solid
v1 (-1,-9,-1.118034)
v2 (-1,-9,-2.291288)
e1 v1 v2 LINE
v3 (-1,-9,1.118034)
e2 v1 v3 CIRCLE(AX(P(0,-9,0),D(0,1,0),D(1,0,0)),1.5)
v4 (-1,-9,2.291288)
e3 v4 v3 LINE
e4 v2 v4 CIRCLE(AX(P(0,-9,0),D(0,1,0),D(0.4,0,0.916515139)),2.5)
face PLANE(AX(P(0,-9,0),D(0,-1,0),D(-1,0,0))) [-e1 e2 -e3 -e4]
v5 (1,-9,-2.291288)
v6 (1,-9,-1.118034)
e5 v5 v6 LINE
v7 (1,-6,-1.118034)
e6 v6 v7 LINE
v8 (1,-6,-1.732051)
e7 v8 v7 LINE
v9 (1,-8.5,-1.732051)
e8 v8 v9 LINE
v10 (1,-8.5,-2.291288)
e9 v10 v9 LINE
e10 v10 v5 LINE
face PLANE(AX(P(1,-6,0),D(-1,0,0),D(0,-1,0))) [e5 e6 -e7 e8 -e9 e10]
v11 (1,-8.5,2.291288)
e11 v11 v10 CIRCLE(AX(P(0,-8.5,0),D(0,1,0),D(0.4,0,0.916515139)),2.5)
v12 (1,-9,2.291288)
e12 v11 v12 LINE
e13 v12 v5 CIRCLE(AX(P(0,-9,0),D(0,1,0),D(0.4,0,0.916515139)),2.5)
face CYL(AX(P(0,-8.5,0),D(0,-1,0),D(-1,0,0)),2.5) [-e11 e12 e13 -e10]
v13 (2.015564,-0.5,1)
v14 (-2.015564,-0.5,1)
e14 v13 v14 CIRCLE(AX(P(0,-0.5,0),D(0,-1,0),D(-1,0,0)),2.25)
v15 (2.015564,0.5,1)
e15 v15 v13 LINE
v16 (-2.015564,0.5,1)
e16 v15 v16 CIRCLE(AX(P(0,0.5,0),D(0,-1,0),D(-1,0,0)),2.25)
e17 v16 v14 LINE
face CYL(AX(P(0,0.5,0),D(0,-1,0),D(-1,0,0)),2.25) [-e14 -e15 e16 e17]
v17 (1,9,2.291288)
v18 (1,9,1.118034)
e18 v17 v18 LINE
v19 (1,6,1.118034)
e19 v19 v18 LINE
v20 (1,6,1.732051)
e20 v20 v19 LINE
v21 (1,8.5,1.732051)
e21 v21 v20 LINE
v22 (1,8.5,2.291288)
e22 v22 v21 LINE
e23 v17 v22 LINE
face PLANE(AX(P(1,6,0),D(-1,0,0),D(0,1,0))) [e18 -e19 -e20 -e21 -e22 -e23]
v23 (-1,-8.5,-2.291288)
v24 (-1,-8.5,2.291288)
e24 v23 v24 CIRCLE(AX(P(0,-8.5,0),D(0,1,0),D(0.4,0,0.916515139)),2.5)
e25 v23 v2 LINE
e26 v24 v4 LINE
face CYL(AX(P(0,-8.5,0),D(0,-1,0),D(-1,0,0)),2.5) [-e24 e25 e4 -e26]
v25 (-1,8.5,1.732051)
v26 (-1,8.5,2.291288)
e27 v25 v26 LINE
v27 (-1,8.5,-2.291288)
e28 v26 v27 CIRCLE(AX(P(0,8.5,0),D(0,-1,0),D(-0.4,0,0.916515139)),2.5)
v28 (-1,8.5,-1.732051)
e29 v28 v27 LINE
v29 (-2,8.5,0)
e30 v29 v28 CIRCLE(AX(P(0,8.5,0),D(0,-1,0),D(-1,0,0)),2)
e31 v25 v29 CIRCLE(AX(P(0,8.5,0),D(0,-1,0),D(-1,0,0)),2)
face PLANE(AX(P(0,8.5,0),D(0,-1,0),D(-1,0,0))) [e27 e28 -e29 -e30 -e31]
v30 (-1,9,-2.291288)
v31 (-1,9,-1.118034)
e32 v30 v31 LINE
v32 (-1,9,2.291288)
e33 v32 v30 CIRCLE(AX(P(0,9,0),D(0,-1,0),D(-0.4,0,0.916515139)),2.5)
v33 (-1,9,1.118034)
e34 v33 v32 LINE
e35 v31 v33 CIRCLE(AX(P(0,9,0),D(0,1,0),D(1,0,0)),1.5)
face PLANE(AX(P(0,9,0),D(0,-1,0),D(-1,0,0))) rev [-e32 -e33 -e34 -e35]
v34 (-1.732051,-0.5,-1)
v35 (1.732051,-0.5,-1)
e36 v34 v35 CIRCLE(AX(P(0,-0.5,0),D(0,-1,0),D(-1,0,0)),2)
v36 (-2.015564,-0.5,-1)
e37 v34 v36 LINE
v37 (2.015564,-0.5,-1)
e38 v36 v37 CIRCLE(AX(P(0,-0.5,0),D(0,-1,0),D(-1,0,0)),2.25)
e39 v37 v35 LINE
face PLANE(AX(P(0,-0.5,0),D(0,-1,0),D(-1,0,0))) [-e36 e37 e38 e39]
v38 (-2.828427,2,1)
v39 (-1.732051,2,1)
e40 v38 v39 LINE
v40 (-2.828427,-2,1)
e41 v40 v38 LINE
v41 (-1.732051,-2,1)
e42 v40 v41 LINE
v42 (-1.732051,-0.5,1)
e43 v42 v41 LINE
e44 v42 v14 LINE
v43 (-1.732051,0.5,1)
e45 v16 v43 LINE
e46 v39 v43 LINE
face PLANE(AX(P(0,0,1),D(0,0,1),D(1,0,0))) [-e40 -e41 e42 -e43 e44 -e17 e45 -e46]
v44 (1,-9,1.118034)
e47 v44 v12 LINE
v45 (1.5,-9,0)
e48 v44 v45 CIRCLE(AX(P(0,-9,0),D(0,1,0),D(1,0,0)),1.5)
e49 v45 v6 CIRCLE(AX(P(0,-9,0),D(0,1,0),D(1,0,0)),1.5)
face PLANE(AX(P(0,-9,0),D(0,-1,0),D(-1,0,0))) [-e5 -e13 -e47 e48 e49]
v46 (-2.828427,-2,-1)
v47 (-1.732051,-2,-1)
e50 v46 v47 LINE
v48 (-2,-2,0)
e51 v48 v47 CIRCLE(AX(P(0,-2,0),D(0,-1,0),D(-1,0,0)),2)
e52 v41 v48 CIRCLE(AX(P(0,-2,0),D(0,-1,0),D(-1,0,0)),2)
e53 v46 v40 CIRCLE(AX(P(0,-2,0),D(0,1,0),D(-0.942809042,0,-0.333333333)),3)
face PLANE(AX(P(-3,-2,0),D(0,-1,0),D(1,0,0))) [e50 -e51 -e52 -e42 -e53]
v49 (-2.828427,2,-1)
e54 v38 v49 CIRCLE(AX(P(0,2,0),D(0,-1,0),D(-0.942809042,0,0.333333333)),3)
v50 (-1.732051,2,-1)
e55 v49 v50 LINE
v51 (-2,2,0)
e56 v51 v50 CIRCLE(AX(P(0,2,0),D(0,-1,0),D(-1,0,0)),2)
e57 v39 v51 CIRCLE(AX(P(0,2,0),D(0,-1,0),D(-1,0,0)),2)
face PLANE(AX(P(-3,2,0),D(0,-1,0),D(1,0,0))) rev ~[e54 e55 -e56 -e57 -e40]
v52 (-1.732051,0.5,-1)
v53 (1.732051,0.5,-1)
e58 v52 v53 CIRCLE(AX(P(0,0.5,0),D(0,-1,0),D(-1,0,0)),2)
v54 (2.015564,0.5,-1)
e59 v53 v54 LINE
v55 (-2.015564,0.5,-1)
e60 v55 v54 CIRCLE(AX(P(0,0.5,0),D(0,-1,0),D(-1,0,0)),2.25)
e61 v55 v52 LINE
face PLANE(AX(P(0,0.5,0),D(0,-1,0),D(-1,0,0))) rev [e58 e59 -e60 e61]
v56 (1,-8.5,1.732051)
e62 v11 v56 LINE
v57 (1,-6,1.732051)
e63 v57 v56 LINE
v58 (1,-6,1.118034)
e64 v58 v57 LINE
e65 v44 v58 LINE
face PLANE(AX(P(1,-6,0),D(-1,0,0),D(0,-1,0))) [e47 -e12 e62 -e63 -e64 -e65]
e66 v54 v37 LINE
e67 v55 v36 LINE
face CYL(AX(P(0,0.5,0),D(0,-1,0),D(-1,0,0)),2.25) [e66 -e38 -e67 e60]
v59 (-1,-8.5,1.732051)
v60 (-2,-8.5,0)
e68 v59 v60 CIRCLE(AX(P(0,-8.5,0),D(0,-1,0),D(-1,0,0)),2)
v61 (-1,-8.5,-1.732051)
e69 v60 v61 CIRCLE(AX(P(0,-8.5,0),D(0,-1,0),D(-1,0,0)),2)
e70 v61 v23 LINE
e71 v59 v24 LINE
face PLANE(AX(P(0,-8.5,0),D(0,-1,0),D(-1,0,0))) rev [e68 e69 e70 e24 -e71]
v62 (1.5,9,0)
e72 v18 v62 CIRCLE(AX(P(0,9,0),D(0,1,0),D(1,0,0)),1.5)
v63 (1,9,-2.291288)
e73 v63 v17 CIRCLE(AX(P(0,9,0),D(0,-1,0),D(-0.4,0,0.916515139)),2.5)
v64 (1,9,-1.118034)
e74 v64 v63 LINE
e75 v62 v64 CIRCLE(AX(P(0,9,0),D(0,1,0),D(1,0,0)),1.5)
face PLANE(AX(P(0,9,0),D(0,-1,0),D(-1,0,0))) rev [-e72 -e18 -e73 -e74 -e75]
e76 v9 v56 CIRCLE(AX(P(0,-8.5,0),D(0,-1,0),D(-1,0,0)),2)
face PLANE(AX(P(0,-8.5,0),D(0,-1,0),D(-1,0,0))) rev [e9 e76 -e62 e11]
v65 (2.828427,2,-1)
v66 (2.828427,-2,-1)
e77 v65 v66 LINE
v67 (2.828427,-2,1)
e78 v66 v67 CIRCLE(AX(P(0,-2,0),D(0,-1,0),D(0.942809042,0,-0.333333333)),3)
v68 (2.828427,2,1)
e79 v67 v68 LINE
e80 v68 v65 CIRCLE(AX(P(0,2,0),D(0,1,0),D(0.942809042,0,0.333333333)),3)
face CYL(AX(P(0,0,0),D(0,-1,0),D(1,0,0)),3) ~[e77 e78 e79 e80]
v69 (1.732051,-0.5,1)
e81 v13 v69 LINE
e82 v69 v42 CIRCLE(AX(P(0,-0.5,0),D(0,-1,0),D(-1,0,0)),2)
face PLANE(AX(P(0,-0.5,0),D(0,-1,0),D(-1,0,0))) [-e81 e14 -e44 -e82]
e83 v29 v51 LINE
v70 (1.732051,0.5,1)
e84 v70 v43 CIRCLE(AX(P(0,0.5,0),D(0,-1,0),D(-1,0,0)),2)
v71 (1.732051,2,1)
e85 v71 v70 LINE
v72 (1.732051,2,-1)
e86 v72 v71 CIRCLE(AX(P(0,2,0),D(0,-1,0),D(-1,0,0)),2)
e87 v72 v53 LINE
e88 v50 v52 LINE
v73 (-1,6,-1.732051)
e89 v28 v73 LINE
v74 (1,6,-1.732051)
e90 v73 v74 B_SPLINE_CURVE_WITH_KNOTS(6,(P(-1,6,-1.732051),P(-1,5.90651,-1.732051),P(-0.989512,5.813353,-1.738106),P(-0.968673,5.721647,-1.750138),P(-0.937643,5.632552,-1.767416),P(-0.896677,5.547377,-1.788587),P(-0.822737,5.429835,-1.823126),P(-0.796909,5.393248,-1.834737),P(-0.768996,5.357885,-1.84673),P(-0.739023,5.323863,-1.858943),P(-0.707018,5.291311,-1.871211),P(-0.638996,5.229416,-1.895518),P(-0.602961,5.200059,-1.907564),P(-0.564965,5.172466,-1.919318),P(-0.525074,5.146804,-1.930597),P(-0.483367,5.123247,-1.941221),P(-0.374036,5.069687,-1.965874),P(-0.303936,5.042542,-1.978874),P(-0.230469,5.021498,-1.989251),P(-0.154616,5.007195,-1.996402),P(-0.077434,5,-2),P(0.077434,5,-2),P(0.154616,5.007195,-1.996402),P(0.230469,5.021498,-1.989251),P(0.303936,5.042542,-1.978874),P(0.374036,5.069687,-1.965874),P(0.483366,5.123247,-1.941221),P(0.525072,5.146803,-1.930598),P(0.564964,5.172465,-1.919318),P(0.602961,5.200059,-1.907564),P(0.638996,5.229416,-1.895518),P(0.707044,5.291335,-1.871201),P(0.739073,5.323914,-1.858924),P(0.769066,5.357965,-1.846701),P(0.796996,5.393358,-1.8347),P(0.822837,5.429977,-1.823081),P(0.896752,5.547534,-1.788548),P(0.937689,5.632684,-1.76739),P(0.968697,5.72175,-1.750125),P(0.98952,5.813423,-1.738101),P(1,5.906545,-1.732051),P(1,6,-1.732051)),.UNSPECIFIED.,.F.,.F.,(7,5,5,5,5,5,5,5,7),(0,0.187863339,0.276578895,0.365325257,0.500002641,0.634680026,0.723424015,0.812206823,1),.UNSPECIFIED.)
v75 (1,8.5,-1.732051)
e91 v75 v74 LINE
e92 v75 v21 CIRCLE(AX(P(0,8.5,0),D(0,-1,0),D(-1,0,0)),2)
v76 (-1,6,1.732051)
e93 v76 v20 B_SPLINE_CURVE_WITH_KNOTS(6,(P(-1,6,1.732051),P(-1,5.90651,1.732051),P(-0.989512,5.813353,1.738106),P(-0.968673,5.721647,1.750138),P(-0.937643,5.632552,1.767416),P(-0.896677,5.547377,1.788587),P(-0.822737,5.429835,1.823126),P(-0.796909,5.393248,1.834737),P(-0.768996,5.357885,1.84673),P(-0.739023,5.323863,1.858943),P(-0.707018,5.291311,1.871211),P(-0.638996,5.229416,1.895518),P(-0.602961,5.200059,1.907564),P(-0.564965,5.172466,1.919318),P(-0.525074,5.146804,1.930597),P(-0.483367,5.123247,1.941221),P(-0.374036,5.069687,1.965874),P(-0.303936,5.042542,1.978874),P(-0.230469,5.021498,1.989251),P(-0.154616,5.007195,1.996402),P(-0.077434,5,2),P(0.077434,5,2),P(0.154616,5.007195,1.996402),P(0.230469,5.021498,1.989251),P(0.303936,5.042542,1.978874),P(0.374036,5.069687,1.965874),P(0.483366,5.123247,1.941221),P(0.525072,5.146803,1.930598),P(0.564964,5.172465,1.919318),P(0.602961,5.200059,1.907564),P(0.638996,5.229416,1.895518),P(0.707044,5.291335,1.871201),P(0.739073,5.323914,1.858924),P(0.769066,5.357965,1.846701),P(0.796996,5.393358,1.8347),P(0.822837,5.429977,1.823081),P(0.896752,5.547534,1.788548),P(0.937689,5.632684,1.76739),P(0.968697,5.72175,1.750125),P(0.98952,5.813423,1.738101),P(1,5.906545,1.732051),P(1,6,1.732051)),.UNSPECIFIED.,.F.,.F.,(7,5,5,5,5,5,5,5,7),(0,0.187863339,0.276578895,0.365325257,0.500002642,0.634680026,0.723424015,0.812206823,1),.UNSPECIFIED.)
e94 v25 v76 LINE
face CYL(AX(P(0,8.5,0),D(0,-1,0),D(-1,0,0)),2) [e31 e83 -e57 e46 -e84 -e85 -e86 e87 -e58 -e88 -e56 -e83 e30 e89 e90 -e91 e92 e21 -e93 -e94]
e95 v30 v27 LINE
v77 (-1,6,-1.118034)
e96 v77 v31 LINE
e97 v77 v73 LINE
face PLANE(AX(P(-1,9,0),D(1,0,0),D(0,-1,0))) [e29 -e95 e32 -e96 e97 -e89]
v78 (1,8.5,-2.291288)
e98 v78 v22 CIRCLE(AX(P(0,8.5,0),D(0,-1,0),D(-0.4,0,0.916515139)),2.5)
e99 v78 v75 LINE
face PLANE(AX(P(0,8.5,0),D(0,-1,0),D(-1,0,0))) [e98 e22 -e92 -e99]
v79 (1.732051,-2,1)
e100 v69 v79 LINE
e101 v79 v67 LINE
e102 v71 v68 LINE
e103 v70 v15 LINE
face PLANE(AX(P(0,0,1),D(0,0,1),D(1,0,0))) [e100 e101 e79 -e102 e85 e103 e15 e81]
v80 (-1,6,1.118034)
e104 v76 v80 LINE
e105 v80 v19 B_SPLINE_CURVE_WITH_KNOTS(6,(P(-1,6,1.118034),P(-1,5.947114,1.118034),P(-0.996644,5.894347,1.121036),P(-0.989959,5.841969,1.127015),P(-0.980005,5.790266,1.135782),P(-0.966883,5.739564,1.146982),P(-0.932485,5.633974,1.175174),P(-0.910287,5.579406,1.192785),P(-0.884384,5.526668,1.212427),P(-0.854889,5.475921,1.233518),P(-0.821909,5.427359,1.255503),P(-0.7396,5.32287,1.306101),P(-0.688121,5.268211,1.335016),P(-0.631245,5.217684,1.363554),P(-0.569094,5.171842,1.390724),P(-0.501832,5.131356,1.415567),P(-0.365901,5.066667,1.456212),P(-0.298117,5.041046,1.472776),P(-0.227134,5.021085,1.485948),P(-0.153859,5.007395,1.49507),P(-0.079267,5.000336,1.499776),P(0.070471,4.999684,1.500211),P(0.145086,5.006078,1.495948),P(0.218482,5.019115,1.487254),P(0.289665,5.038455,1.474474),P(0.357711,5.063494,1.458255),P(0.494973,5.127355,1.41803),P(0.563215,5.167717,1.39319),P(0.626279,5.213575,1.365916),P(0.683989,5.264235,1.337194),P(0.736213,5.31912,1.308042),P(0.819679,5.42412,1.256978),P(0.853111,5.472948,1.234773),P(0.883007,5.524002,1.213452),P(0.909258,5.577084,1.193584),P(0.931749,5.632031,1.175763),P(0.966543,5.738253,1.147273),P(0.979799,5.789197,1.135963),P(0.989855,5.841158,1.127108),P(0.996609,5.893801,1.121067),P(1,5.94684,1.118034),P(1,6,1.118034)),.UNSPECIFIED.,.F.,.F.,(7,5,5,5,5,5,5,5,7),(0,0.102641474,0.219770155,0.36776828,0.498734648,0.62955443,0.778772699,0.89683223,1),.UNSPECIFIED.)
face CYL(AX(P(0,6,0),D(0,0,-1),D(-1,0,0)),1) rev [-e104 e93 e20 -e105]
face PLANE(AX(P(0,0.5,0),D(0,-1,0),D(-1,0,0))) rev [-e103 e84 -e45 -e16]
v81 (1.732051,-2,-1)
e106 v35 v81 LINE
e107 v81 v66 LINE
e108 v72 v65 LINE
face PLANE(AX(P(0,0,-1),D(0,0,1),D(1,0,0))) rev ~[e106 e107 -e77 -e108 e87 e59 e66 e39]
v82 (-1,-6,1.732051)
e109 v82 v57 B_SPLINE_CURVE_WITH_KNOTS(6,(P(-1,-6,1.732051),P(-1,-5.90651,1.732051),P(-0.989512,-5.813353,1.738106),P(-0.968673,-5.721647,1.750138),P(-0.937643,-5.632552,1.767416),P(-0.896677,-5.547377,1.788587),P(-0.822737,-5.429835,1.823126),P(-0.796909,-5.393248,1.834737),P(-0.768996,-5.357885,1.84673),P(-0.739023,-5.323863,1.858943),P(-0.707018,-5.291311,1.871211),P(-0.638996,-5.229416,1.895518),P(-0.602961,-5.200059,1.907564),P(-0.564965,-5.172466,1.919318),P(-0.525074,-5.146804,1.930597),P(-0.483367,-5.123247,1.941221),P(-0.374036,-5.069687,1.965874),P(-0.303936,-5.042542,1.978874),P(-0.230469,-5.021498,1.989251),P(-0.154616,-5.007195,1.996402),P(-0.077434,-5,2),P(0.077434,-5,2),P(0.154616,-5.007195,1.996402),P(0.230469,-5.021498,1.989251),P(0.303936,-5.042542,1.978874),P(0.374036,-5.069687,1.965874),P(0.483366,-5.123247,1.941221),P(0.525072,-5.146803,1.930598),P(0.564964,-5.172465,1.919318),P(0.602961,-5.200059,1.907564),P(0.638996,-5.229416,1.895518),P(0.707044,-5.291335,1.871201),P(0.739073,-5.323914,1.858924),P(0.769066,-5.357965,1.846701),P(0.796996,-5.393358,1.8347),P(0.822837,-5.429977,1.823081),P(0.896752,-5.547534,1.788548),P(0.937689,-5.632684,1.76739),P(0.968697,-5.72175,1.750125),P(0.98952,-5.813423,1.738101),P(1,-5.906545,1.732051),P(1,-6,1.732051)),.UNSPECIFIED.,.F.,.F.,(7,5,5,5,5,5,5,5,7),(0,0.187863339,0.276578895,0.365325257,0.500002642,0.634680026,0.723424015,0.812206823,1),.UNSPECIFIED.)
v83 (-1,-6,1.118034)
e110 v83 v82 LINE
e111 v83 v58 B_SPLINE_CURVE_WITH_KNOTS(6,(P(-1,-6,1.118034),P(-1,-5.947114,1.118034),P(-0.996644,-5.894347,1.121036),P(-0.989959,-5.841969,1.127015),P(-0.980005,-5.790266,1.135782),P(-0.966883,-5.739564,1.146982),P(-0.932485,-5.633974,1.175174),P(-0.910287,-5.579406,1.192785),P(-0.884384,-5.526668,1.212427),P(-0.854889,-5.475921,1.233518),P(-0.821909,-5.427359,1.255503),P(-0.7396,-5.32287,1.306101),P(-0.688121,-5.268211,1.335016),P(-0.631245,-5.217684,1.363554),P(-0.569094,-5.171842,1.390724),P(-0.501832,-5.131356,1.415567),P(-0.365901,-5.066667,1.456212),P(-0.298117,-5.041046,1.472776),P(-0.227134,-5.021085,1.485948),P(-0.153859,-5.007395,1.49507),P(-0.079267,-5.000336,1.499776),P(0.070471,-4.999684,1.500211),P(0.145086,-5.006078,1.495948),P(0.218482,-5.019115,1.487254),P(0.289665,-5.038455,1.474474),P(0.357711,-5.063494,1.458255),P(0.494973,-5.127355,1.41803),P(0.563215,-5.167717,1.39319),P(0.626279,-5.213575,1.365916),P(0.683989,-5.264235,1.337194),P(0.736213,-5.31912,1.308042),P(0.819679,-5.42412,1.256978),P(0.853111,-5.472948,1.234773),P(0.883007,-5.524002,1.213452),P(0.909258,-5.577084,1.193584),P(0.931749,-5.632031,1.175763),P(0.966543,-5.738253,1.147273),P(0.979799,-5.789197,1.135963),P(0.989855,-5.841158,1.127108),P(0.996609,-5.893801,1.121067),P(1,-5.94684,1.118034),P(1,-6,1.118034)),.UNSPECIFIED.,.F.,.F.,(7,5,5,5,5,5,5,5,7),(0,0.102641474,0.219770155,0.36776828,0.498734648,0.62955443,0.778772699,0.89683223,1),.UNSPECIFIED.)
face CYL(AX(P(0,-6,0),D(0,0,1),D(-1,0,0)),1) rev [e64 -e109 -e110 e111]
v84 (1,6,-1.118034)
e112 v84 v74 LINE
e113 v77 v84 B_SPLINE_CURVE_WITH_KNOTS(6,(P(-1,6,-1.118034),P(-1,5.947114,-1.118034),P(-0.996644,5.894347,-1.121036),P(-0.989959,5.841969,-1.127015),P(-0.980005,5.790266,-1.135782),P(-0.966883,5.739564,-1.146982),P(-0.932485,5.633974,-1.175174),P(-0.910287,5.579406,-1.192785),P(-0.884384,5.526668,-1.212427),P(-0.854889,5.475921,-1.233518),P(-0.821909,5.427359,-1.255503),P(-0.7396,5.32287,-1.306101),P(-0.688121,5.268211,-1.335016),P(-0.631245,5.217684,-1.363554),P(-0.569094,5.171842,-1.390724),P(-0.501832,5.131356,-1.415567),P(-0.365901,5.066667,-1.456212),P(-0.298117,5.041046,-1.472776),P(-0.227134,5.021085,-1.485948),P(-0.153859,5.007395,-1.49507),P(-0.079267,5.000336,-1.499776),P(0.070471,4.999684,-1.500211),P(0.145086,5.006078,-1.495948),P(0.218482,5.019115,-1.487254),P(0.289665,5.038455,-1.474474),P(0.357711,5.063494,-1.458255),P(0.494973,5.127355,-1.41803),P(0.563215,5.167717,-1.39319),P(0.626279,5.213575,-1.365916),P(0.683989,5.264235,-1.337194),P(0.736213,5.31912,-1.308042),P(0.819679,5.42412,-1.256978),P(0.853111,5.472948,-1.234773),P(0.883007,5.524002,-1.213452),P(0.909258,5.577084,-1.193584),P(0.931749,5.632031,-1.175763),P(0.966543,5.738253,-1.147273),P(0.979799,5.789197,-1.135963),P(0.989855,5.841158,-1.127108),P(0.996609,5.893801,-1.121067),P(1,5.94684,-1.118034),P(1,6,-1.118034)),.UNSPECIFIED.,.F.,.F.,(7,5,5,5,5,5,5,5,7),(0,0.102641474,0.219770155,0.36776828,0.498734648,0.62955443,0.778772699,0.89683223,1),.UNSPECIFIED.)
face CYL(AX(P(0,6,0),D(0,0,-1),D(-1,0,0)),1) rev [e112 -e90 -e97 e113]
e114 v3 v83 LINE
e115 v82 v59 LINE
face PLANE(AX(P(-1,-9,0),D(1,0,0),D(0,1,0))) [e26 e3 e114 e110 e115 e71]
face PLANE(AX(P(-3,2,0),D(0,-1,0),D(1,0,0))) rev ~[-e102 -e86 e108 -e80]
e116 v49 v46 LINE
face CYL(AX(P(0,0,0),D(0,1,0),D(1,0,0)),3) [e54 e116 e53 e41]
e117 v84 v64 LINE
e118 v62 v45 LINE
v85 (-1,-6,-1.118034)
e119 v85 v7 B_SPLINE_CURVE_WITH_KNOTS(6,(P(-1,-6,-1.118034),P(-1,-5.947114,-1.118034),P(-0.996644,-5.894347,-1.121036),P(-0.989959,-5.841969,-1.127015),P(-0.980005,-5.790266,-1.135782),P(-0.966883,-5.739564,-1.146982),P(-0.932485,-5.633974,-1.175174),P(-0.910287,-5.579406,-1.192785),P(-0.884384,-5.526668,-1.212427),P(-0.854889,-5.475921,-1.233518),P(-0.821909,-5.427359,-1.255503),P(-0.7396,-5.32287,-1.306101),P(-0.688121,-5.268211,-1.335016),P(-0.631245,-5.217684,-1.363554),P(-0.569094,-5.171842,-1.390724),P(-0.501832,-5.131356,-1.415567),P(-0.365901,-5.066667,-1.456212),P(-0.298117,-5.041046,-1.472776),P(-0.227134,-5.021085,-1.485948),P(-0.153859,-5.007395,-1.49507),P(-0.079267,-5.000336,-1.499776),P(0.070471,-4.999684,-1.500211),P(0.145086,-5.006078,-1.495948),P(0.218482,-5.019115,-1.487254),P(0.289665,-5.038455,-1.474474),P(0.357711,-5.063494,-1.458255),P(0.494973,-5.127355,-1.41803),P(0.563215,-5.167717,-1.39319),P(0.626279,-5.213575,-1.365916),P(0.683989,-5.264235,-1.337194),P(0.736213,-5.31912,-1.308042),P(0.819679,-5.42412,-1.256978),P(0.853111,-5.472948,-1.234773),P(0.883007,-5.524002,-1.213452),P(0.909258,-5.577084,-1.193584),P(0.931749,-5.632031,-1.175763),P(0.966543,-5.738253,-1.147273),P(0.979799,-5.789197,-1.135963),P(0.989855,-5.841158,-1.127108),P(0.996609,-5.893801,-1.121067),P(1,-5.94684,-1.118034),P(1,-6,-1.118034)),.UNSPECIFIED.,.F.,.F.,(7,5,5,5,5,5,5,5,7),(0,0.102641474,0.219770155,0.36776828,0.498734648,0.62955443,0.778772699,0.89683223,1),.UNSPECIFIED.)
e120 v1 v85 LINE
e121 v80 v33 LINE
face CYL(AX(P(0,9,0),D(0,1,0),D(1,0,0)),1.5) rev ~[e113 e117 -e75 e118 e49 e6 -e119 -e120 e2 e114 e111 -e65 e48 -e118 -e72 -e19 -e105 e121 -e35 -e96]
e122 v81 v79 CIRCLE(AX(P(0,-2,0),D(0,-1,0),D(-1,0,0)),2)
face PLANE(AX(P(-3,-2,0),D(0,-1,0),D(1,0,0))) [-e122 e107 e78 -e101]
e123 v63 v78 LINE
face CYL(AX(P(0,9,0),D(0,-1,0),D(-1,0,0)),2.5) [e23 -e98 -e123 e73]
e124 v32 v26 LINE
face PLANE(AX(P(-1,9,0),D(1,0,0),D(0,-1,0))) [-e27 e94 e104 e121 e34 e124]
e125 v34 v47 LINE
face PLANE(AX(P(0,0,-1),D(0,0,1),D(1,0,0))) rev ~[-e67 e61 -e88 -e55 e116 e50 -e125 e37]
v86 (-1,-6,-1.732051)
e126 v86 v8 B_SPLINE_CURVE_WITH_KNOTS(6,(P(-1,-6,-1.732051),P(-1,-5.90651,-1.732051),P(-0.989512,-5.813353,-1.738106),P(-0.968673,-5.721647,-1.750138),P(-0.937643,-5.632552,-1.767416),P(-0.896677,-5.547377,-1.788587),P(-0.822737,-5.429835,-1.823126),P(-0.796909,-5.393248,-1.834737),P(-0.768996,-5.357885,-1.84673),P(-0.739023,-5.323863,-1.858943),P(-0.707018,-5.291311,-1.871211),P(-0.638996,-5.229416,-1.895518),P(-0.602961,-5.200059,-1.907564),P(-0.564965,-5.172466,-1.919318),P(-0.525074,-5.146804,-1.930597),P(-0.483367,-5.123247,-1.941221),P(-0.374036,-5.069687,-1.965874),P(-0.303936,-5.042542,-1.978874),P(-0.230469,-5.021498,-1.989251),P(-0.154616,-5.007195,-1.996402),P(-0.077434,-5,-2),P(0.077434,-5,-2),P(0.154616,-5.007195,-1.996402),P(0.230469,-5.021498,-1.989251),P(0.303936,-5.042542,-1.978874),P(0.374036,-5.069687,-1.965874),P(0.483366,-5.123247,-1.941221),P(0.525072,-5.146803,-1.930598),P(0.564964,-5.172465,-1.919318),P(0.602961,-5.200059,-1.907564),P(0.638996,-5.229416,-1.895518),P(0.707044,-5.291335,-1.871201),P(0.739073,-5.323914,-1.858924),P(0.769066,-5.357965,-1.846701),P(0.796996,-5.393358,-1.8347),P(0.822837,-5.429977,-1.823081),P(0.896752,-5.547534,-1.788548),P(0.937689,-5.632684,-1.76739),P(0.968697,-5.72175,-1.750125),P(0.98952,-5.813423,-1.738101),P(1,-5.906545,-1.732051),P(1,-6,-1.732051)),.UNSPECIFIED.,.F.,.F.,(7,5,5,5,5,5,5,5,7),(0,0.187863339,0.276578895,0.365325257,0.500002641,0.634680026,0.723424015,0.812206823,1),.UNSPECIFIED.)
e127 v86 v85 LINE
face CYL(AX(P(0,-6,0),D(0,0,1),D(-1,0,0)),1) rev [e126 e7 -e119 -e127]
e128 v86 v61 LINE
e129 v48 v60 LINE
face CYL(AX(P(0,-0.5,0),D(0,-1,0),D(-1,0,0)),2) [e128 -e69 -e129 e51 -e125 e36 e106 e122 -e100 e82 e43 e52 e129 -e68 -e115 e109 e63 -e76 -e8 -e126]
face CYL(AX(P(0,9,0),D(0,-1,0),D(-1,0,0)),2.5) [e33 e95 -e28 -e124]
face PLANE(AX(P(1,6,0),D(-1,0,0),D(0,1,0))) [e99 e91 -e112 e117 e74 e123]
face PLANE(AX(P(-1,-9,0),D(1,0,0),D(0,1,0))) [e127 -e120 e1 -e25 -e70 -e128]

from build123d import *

# Parameters (mm, degrees)
SKETCH3_W               = 6
SKETCH3_H               = 4
BOSS_EXTRUDE4_DEPTH     = 1
CUT_EXTRUDE2_DEPTH      = 3.5
CUT_EXTRUDE2_DEPTH_BACK = 3.5
SKETCH6_R               = 1.5
CUT_EXTRUDE3_DEPTH      = 18
SKETCH7_OUTSIDE_W       = 11.904
SKETCH7_OUTSIDE_H       = 10.486
SKETCH7_OUTSIDE_R       = 3
CUT_EXTRUDE4_DEPTH      = 10.0000001
CUT_EXTRUDE4_DEPTH_BACK = 10.0000001


with BuildPart() as part:
    # Sketch1 → Revolve5 (revolve)
    with BuildSketch(Plane.XY):
        Polygon((0, 9), (-2.5, 9), (-2.5, 8.5), (-2, 8.5), (-2, 0.5), (-2.25, 0.5), (-2.25, -0.5), (-2, -0.5), (-2, -8.5), (-2.5, -8.5), (-2.5, -9), (0, -9), align=None)
    revolve(axis=Axis((0, 9, 0), (0, -1, 0)))

    # Sketch3 → Boss-Extrude4 (add, symmetric)
    with BuildSketch(Plane.XY):
        Rectangle(SKETCH3_W, SKETCH3_H)
    extrude(amount=BOSS_EXTRUDE4_DEPTH, both=True)

    # Sketch5 → Cut-Extrude2 (cut, two sides)
    with BuildSketch(Plane.XY) as cut_extrude2_sk:
        with BuildLine():
            Line((-1, 9), (-1, 6))
            ThreePointArc((-1, 6), (0, 5), (1, 6))
            Line((1, 6), (1, 9))
            Line((1, 9), (-1, 9))
        make_face()
        with BuildLine():
            Line((-1, -9), (-1, -6))
            ThreePointArc((-1, -6), (0, -5), (1, -6))
            Line((1, -6), (1, -9))
            Line((1, -9), (-1, -9))
        make_face()
    extrude(amount=CUT_EXTRUDE2_DEPTH, mode=Mode.SUBTRACT)
    extrude(cut_extrude2_sk.sketch, amount=-CUT_EXTRUDE2_DEPTH_BACK, mode=Mode.SUBTRACT)

    # Sketch6 → Cut-Extrude3 (cut)
    with BuildSketch(Plane(origin=(0, 9, 0), x_dir=(1, 0, 0), z_dir=(0, 1, 0))):
        Circle(SKETCH6_R)
    extrude(amount=-CUT_EXTRUDE3_DEPTH, mode=Mode.SUBTRACT)

    # Sketch7 outside → Cut-Extrude4 (cut, two sides)
    with BuildSketch(Plane(origin=(0, 0, 0), x_dir=(1, 0, 0), z_dir=(0, 1, 0))) as cut_extrude4_sk:
        Rectangle(SKETCH7_OUTSIDE_W, SKETCH7_OUTSIDE_H)
        Circle(SKETCH7_OUTSIDE_R, mode=Mode.SUBTRACT)
    extrude(amount=CUT_EXTRUDE4_DEPTH, mode=Mode.SUBTRACT)
    extrude(cut_extrude4_sk.sketch, amount=-CUT_EXTRUDE4_DEPTH_BACK, mode=Mode.SUBTRACT)


solid = part.part
